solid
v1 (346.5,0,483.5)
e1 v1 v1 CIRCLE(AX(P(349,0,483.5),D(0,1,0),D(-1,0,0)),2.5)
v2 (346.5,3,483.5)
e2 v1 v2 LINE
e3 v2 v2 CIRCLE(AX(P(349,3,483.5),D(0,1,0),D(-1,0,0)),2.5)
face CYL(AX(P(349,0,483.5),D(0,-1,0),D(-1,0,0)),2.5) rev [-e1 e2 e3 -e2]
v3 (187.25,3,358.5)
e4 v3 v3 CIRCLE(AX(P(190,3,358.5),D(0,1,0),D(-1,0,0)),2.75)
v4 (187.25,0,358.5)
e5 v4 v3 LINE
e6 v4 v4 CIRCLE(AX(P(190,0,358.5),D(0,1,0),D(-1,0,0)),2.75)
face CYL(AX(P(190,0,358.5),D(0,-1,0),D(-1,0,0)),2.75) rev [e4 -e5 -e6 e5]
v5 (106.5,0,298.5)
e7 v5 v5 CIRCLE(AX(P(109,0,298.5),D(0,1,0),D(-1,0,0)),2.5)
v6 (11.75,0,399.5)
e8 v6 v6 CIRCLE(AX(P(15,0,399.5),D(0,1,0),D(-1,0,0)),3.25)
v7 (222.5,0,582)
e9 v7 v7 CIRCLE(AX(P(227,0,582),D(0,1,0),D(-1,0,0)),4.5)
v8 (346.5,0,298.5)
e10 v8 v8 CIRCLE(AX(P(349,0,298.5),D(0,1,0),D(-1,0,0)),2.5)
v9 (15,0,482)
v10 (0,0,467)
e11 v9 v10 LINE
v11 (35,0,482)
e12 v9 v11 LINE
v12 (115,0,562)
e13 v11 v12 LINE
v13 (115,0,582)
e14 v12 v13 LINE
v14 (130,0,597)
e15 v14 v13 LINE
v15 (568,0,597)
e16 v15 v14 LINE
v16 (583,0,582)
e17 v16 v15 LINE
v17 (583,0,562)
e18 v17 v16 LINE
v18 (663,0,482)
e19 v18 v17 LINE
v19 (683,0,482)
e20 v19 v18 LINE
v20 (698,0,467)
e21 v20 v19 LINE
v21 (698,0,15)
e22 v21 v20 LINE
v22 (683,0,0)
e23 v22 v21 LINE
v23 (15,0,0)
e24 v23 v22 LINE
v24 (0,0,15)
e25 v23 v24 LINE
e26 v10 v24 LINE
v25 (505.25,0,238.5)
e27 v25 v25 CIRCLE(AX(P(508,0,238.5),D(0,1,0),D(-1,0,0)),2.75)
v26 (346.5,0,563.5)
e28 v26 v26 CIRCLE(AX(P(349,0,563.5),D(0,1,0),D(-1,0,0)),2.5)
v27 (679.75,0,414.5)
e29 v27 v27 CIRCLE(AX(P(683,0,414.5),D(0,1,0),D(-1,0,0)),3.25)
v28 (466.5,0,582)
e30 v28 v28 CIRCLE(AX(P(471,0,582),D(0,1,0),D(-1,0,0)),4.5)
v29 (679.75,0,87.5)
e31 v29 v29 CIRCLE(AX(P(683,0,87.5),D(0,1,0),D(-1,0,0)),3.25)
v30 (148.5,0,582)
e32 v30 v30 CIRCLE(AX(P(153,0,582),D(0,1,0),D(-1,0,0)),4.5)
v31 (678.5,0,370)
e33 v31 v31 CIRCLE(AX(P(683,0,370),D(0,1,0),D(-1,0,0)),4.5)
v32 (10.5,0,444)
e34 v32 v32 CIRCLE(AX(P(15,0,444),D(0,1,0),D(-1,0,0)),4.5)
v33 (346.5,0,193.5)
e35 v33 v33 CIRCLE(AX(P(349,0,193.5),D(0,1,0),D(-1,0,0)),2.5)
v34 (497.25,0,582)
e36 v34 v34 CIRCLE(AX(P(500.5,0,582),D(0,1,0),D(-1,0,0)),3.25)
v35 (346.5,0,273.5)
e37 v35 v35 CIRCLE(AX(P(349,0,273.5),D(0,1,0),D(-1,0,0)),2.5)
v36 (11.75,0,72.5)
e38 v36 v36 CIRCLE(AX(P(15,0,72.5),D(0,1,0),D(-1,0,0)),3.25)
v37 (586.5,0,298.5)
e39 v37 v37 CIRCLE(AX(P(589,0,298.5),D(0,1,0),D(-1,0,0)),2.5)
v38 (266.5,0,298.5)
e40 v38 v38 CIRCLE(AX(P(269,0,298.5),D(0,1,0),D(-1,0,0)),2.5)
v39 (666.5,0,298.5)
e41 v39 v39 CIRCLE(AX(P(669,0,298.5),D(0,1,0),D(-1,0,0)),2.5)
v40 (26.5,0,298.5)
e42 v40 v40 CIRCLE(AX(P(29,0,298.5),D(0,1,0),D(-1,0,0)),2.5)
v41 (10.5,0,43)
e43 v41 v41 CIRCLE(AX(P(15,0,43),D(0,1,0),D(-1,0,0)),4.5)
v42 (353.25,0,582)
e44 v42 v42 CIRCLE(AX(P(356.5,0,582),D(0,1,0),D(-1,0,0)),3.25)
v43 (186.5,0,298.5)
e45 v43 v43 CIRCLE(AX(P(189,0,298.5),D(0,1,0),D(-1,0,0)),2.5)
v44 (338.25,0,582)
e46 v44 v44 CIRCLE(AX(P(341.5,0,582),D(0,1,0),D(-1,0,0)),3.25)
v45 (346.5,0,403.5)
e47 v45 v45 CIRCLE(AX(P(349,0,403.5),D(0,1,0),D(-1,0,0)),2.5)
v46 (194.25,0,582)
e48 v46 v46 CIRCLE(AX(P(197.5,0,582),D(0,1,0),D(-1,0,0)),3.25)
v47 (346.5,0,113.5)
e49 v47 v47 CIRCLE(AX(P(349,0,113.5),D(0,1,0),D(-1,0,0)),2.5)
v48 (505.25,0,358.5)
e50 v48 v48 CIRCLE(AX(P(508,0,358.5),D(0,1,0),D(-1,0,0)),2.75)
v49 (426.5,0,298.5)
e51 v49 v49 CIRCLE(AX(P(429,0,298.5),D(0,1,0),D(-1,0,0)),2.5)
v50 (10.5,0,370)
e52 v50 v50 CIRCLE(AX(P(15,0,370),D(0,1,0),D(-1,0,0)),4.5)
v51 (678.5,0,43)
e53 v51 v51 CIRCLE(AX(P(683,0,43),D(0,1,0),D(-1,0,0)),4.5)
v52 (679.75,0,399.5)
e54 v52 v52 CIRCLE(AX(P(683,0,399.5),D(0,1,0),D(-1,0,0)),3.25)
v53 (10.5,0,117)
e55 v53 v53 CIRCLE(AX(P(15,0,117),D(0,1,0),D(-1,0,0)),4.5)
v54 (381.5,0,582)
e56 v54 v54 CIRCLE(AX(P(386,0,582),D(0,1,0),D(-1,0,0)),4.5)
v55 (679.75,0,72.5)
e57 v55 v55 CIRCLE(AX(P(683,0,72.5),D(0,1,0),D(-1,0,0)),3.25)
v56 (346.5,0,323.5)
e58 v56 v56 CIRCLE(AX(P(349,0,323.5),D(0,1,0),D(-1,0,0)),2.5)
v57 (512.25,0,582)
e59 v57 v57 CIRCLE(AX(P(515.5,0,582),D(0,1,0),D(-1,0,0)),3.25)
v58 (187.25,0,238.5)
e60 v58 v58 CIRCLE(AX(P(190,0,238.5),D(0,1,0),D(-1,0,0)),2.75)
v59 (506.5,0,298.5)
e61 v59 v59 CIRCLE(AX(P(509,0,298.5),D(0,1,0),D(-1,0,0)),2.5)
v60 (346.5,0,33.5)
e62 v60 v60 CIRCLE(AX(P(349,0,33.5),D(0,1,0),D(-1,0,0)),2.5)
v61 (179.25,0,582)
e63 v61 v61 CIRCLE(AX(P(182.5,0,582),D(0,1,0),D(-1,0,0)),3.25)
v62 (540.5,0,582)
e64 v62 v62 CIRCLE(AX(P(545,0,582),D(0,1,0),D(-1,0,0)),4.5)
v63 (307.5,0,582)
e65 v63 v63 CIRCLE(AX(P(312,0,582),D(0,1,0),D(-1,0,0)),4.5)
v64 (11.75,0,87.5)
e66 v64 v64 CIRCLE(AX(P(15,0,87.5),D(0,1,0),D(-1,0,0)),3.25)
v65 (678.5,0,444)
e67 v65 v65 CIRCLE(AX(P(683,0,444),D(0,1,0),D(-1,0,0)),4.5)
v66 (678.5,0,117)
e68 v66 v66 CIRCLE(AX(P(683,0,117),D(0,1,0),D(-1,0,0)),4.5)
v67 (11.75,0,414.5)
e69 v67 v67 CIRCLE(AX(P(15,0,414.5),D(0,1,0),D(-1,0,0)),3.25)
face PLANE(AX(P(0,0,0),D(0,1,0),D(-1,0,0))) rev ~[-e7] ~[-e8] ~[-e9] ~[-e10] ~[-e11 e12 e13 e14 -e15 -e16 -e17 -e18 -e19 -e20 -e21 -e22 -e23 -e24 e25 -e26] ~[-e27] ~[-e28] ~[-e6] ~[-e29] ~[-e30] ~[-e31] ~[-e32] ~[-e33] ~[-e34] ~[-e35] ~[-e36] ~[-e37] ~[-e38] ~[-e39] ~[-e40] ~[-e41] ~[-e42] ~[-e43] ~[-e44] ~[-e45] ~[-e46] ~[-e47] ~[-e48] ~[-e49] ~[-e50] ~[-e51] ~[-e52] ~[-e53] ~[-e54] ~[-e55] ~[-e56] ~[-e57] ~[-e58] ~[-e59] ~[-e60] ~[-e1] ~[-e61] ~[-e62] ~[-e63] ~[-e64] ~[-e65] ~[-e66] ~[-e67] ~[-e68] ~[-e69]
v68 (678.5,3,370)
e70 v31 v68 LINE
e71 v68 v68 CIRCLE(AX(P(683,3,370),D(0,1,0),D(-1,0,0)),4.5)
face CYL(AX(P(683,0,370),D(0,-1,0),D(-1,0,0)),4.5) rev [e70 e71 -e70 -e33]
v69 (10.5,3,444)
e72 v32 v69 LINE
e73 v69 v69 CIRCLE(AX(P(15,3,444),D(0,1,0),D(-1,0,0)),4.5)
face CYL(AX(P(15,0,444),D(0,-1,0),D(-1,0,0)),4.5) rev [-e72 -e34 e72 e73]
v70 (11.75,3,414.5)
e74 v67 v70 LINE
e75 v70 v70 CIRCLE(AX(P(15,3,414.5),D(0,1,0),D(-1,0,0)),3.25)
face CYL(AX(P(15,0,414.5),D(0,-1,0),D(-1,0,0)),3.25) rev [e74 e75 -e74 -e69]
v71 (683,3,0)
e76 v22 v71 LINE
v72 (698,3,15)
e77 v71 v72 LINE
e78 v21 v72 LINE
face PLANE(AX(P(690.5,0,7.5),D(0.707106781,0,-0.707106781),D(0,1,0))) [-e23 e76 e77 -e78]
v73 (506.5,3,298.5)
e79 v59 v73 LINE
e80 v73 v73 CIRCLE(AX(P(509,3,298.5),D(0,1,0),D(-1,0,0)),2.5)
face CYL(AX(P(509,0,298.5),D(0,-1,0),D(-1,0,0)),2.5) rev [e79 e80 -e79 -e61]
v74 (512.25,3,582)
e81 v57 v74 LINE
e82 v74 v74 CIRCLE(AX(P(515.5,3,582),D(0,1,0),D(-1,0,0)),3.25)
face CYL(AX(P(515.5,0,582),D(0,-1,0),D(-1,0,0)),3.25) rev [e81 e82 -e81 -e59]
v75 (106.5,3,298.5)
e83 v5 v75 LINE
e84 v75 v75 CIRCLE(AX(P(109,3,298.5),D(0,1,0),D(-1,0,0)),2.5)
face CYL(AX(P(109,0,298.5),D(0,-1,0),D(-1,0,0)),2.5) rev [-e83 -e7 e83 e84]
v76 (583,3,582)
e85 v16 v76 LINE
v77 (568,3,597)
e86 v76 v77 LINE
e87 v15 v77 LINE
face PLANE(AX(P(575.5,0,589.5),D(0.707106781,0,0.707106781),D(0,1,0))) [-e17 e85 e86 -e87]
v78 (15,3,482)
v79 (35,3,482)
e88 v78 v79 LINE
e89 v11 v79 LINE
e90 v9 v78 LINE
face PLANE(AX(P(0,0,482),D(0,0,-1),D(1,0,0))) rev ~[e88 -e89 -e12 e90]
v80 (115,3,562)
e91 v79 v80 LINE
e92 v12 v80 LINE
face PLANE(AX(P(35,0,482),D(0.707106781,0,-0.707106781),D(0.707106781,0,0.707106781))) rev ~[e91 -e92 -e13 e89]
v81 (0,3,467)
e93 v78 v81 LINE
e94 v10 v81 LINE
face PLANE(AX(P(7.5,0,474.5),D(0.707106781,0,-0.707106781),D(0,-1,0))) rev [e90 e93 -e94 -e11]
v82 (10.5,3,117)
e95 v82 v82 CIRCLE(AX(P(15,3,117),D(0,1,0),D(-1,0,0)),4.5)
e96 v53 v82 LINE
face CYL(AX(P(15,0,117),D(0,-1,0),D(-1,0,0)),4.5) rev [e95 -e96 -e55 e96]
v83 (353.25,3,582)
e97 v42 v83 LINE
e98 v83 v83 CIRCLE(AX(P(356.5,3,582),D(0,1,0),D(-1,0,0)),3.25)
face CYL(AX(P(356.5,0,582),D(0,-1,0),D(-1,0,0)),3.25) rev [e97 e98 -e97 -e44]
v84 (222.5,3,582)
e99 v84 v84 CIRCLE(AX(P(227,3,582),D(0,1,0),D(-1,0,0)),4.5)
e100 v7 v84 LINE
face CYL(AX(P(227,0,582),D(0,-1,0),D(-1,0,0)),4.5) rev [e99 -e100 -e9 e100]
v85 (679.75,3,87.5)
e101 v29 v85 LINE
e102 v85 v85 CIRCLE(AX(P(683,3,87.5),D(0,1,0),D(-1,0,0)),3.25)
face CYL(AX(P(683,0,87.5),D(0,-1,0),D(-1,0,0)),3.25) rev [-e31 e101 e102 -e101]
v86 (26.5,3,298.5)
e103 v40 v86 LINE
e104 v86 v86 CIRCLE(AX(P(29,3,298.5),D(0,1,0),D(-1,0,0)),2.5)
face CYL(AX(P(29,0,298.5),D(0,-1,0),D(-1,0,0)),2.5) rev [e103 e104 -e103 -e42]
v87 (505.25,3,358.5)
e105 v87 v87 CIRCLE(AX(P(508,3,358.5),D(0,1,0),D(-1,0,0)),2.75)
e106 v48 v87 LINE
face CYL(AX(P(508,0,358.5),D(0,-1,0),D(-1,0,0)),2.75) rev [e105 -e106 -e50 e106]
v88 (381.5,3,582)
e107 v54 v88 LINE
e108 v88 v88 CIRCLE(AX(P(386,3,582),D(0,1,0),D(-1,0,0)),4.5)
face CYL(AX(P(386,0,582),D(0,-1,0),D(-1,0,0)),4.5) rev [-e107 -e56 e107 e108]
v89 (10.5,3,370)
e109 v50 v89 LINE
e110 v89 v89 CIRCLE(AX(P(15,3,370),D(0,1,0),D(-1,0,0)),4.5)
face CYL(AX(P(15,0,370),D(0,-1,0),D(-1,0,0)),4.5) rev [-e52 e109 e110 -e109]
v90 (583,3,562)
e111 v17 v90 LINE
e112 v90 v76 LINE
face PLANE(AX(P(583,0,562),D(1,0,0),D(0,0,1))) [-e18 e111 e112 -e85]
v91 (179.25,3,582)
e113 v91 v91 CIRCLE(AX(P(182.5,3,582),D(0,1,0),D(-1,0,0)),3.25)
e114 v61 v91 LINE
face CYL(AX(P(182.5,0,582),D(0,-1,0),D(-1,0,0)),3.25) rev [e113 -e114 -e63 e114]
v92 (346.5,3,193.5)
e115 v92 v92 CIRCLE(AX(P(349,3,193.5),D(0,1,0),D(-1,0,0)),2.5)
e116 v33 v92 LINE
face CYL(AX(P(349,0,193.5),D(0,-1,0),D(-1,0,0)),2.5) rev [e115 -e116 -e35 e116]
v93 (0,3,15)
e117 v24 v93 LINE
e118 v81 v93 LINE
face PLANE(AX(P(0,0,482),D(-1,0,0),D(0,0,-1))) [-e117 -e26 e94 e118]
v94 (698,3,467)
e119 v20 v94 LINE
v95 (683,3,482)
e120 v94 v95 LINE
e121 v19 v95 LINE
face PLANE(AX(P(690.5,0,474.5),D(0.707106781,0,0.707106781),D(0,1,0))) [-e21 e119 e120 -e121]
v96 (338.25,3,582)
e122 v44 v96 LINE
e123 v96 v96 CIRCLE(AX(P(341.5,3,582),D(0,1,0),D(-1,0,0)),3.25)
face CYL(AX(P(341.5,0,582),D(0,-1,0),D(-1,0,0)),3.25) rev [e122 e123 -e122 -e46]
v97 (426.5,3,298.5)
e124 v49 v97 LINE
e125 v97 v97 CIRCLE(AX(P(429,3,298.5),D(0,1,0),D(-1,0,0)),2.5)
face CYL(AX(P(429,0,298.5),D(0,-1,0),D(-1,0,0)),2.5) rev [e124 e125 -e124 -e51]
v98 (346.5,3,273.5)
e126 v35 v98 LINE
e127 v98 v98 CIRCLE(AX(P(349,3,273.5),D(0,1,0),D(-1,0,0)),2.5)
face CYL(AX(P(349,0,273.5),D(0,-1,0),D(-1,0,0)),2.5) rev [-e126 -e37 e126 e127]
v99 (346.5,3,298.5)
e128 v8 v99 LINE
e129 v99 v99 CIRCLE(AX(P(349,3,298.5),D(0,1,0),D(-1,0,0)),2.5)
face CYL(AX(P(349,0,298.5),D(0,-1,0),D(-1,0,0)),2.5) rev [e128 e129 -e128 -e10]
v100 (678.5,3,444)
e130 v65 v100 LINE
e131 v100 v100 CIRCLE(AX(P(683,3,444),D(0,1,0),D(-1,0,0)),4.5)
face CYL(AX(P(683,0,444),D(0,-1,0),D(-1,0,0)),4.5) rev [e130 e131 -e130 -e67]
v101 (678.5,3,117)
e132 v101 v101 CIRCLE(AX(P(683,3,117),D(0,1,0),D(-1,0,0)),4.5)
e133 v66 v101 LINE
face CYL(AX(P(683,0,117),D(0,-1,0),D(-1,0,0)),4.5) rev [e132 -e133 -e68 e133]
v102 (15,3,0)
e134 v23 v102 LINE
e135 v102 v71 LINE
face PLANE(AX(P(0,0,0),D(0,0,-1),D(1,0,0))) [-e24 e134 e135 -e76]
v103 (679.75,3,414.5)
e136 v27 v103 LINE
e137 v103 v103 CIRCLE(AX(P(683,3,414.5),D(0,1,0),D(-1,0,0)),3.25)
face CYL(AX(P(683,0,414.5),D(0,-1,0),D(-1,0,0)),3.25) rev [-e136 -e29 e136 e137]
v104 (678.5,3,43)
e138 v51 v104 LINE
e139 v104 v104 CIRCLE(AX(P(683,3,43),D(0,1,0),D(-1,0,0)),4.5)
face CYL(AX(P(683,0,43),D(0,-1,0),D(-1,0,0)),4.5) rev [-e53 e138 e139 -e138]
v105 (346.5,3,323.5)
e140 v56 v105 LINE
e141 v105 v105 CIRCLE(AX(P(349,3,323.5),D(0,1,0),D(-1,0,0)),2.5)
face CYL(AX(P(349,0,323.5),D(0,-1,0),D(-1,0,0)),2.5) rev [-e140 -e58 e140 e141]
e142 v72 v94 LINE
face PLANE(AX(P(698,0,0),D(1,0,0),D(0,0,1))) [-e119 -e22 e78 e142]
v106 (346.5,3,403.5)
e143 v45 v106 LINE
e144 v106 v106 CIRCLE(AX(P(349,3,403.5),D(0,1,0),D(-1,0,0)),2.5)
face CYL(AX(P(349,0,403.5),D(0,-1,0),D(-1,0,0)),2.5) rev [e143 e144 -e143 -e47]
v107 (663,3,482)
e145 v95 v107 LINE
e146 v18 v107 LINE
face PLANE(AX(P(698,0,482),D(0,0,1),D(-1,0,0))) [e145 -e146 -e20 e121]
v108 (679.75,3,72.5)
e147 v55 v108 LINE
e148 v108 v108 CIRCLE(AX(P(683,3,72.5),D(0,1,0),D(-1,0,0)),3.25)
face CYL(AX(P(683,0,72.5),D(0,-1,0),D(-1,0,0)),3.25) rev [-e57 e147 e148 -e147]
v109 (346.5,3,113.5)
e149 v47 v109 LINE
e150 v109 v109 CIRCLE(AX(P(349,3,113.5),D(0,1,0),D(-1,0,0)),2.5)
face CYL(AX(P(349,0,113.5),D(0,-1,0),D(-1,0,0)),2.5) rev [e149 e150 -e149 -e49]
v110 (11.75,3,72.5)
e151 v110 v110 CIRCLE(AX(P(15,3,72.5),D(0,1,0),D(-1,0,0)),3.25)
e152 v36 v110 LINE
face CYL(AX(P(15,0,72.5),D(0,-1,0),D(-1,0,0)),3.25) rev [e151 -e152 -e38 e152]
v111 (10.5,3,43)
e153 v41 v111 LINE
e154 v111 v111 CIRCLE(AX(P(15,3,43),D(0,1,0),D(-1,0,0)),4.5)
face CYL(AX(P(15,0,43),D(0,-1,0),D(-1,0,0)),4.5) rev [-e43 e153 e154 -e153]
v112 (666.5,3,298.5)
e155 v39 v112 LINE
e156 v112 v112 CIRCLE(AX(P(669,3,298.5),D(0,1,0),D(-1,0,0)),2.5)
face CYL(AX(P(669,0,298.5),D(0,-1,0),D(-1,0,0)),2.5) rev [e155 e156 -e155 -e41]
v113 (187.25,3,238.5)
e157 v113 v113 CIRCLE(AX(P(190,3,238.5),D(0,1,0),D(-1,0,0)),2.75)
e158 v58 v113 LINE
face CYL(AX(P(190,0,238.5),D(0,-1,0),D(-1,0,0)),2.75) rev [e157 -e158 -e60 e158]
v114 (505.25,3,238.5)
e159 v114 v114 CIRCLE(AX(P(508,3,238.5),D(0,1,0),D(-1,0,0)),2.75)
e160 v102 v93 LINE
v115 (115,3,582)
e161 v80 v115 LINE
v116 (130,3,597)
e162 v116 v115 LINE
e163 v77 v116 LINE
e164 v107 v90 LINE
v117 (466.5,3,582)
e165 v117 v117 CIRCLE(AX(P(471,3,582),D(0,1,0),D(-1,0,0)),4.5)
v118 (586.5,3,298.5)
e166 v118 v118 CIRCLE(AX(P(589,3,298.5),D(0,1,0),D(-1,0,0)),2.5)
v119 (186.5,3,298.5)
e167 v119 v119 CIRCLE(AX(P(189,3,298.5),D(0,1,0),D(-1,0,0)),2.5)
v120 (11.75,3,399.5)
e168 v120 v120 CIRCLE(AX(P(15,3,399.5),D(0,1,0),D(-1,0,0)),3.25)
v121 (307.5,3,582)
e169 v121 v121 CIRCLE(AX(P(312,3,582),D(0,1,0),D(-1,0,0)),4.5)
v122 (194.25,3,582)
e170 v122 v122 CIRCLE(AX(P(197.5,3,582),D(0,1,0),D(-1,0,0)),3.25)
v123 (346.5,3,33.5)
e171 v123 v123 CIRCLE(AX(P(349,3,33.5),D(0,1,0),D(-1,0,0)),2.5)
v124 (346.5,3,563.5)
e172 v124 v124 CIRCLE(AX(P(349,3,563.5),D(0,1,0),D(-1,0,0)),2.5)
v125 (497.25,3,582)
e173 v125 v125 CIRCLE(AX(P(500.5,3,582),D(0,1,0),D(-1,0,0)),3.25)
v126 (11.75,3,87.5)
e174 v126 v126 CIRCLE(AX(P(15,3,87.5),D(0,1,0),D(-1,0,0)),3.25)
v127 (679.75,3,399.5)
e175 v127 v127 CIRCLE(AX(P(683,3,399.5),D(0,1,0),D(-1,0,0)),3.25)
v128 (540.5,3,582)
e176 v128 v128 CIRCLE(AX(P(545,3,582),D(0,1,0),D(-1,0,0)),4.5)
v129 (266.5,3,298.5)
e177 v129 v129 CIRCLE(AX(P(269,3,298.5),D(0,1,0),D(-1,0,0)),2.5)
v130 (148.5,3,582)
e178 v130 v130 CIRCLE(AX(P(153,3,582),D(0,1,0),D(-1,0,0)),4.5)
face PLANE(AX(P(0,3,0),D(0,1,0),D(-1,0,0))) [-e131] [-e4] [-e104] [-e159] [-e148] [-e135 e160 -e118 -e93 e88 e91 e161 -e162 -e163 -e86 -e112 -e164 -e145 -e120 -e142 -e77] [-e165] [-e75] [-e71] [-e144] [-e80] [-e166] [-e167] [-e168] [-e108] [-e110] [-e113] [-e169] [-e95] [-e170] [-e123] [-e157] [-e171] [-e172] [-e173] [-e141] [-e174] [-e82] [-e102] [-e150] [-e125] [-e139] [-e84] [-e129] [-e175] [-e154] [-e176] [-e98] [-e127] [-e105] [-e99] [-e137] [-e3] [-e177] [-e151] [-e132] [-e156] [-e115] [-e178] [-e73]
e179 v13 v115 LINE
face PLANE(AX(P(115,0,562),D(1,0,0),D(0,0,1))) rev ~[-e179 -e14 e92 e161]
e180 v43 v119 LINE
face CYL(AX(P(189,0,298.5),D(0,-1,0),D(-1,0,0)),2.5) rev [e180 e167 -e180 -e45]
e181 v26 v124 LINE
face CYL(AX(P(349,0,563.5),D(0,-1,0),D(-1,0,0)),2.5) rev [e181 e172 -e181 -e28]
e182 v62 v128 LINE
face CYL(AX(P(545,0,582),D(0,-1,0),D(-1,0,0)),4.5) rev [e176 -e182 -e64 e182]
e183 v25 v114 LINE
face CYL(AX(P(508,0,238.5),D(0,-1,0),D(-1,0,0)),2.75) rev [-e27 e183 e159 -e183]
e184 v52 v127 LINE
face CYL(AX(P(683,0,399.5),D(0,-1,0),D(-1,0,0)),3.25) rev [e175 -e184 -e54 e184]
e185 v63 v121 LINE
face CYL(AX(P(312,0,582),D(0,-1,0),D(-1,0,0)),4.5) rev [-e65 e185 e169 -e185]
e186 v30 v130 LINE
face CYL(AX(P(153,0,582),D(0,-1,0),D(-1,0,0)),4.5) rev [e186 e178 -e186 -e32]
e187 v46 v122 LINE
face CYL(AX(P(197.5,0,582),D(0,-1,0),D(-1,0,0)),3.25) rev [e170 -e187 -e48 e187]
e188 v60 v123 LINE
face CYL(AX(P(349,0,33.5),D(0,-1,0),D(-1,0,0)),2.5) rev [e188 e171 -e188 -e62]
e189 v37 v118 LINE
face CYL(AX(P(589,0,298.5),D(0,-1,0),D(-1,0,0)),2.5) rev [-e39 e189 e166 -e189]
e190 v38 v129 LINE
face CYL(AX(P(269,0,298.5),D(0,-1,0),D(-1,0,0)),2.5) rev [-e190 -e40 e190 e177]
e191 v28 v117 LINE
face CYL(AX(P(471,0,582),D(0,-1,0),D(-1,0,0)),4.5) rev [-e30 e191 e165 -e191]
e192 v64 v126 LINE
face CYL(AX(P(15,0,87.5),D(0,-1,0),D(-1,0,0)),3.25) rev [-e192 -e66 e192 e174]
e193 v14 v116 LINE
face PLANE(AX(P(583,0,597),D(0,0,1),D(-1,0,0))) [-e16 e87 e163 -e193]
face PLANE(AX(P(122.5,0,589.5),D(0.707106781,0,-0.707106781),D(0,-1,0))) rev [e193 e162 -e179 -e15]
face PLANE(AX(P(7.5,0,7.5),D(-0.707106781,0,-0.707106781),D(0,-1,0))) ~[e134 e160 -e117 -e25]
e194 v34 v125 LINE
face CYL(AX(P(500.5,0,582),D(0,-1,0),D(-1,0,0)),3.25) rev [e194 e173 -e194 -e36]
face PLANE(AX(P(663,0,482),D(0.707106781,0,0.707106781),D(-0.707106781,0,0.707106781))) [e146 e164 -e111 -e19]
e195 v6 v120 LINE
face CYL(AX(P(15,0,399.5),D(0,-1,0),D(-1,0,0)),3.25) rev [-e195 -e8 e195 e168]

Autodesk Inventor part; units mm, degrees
ref_plane "YZ Plane" through (0, 0, 0) normal (1, 0, 0) x (0, 1, 0)
ref_plane "XZ Plane" through (0, 0, 0) normal (0, 1, 0) x (-1, 0, 0)
ref_plane "XY Plane" through (0, 0, 0) normal (0, 0, 1) x (1, 0, 0)
sketch "Skizze1" plane through (0, 0, 0) normal (0, 1, 0) x (-1, 0, 0)
  line L0 (0, 0) -> (-698, 0)
  line L1 (-698, 0) -> (-698, 597)
  line L2 (-698, 597) -> (0, 597)
  line L3 (0, 597) -> (0, 0)
  line L4 (-349, 0) -> (-349, 597) construction
  line L5 (0, 298.5) -> (-698, 298.5) construction
  line L6 (-190, 0) -> (-190, 597) construction
  line L7 (-508, 0) -> (-508, 597) construction
  line L8 (-698, 407) -> (0, 407) construction
  line L9 (0, 80) -> (-698, 80) construction
  line L10 (-683, 582) -> (-683, 15) construction
  line L11 (-683, 15) -> (-15, 15) construction
  line L12 (-15, 15) -> (-15, 582) construction
  line L13 (-15, 582) -> (-683, 582) construction
  line L14 (-23, 362) -> (-7, 362) construction
  line L15 (-7, 362) -> (-7, 452) construction
  line L16 (-7, 452) -> (-23, 452) construction
  line L17 (-23, 452) -> (-23, 362) construction
  line L18 (-23, 362) -> (-7, 452) construction
  line L19 (-7, 362) -> (-23, 452) construction
  line L20 (-145, 590) -> (-235, 590) construction
  line L21 (-235, 590) -> (-235, 574) construction
  line L22 (-235, 574) -> (-145, 574) construction
  line L23 (-145, 574) -> (-145, 590) construction
  line L24 (-145, 590) -> (-235, 574) construction
  line L25 (-235, 590) -> (-145, 574) construction
  line L26 (-304, 590) -> (-394, 590) construction
  line L27 (-394, 590) -> (-394, 574) construction
  line L28 (-394, 574) -> (-304, 574) construction
  line L29 (-304, 574) -> (-304, 590) construction
  line L30 (-304, 590) -> (-394, 574) construction
  line L31 (-394, 590) -> (-304, 574) construction
  circle A0 centre (-15, 399.5) radius 3.25
  circle A1 centre (-15, 370) radius 4.5
  circle A2 centre (-15, 414.5) radius 3.25
  circle A3 centre (-15, 444) radius 4.5
  circle A4 centre (-182.5, 582) radius 3.25
  circle A5 centre (-153, 582) radius 4.5
  circle A6 centre (-312, 582) radius 4.5
  circle A7 centre (-341.5, 582) radius 3.25
  circle A8 centre (-197.5, 582) radius 3.25
  circle A9 centre (-227, 582) radius 4.5
  circle A10 centre (-386, 582) radius 4.5
  circle A11 centre (-356.5, 582) radius 3.25
  circle A12 centre (-683, 399.5) radius 3.25
  circle A13 centre (-683, 370) radius 4.5
  circle A14 centre (-683, 444) radius 4.5
  circle A15 centre (-683, 414.5) radius 3.25
  circle A16 centre (-515.5, 582) radius 3.25
  circle A17 centre (-545, 582) radius 4.5
  circle A18 centre (-500.5, 582) radius 3.25
  circle A19 centre (-471, 582) radius 4.5
  circle A20 centre (-15, 43) radius 4.5
  circle A21 centre (-15, 72.5) radius 3.25
  circle A22 centre (-190, 238.5) radius 2.75
  circle A23 centre (-190, 358.5) radius 2.75
  circle A24 centre (-508, 238.5) radius 2.75
  circle A25 centre (-508, 358.5) radius 2.75
  circle A26 centre (-15, 117) radius 4.5
  circle A27 centre (-15, 87.5) radius 3.25
  circle A28 centre (-683, 43) radius 4.5
  circle A29 centre (-683, 72.5) radius 3.25
  circle A30 centre (-683, 87.5) radius 3.25
  circle A31 centre (-683, 117) radius 4.5
  line L32 (0, 482) -> (-35, 482)
  line L33 (-35, 482) -> (-115, 562)
  line L34 (-115, 562) -> (-115, 597)
  line L35 (-698, 482) -> (-663, 482)
  line L36 (-663, 482) -> (-583, 562)
  line L37 (-583, 562) -> (-583, 597)
  point P0 (-15, 407)
  point P1 (-190, 582)
  point P2 (-349, 582)
  point P3 (-190, 298.5)
  dimension "d0" = 698
  dimension "d1" = 597
  dimension "d2" = 190
  dimension "d3" = 80
  dimension "d4" = 190
  dimension "d5" = 190
  dimension "d6" = 15
  dimension "d7" = 16
  dimension "d8" = 90
  dimension "d9" = 90
  dimension "d10" = 16
  dimension "d11" = 90
  dimension "d12" = 16
  dimension "d13" = 6.5
  dimension "d14" = 7.5
  dimension "d15" = 9
  dimension "d16" = 37
  dimension "d17" = 6.5
  dimension "d18" = 9
  dimension "d19" = 7.5
  dimension "d20" = 37
  dimension "d21" = 6.5
  dimension "d22" = 9
  dimension "d23" = 7.5
  dimension "d24" = 37
  dimension "d30" = 5.5
  dimension "d34" = 6.5
  dimension "d35" = 9
  dimension "d36" = 7.5
  dimension "d37" = 37
  dimension "d80" = 115
  dimension "d81" = 115
  dimension "d82" = 45
  dimension "d83" = 35
extrude "Ex-Platte" add sketch "Skizze1" along normal blind 3 contours L0 L1 L35 L36 L37 L2 L34 L33 L32 L3
chamfer "Fase-15mm" distance 15 angle 45 6 edges at (698, 1.5, 0) (0, 1.5, 0) (0, 1.5, 482) (115, 1.5, 597) (583, 1.5, 597) (698, 1.5, 482)
sketch "Profil-Verstärkung" plane through (0, 0, 0) normal (0, 1, 0) x (-1, 0, 0)
  line L0 (-683, 0) -> (-15, 0) projected
  line L1 (0, 15) -> (0, 482) projected
  line L2 (-115, 597) -> (-583, 597) projected
  line L3 (-698, 482) -> (-698, 15) projected
  line L4 (0, 298.5) -> (-698, 298.5) construction
  circle A0 centre (-15, 117) radius 4.5 projected
  circle A1 centre (-15, 370) radius 4.5 projected
  circle A2 centre (-190, 358.5) radius 2.75 projected
  circle A3 centre (-190, 238.5) radius 2.75 projected
  circle A4 centre (-227, 582) radius 4.5 projected
  circle A5 centre (-312, 582) radius 4.5 projected
  line L5 (-349, 0) -> (-349, 597) construction
  circle A6 centre (-349, 298.5) radius 2.5
  circle A7 centre (-429, 298.5) radius 2.5
  circle A8 centre (-509, 298.5) radius 2.5
  circle A9 centre (-589, 298.5) radius 2.5
  circle A10 centre (-669, 298.5) radius 2.5
  circle A11 centre (-349, 323.5) radius 2.5
  circle A12 centre (-349, 403.5) radius 2.5
  circle A13 centre (-349, 483.5) radius 2.5
  circle A14 centre (-349, 563.5) radius 2.5
  circle A15 centre (-269, 298.5) radius 2.5
  circle A16 centre (-189, 298.5) radius 2.5
  circle A17 centre (-109, 298.5) radius 2.5
  circle A18 centre (-29, 298.5) radius 2.5
  circle A19 centre (-349, 273.5) radius 2.5
  circle A20 centre (-349, 193.5) radius 2.5
  circle A21 centre (-349, 113.5) radius 2.5
  circle A22 centre (-349, 33.5) radius 2.5
  point P0 (0, 0)
  point P1 (0, 582)
  point P2 (-15, 597)
  point P3 (-683, 597)
  point P4 (-698, 582)
  dimension "d38" = 698
  dimension "d40" = 121.5
  dimension "d42" = 11.5
  dimension "d61" = 5
  dimension "d64" = 80
  dimension "d69" = 5
  dimension "d70" = 25
  dimension "d73" = 80
extrude "Ex-ProfilBohrungen" cut sketch "Profil-Verstärkung" along normal up to surface (3 mm away) contours A6 | A7 | A8 | A9 | A10 | A11 | A12 | A13 | A14 | A15 | A16 | A17 | A18 | A19 | A20 | A21 | A22
equation "\"d5\" = d4"
equation "\"d17\" = d13"
equation "\"d18\" = d15"
equation "\"d19\" = d14"
equation "\"d20\" = d16"
equation "\"d21\" = d13"
equation "\"d22\" = d15"
equation "\"d23\" = d14"
equation "\"d24\" = d16"
equation "\"d34\" = d13"
equation "\"d35\" = d15"
equation "\"d36\" = d14"
equation "\"d37\" = d16"
equation "\"d81\" = d80"
equation "\"d69\" = d61"
properties part number "enc-SidePanel Unten 575x708"
